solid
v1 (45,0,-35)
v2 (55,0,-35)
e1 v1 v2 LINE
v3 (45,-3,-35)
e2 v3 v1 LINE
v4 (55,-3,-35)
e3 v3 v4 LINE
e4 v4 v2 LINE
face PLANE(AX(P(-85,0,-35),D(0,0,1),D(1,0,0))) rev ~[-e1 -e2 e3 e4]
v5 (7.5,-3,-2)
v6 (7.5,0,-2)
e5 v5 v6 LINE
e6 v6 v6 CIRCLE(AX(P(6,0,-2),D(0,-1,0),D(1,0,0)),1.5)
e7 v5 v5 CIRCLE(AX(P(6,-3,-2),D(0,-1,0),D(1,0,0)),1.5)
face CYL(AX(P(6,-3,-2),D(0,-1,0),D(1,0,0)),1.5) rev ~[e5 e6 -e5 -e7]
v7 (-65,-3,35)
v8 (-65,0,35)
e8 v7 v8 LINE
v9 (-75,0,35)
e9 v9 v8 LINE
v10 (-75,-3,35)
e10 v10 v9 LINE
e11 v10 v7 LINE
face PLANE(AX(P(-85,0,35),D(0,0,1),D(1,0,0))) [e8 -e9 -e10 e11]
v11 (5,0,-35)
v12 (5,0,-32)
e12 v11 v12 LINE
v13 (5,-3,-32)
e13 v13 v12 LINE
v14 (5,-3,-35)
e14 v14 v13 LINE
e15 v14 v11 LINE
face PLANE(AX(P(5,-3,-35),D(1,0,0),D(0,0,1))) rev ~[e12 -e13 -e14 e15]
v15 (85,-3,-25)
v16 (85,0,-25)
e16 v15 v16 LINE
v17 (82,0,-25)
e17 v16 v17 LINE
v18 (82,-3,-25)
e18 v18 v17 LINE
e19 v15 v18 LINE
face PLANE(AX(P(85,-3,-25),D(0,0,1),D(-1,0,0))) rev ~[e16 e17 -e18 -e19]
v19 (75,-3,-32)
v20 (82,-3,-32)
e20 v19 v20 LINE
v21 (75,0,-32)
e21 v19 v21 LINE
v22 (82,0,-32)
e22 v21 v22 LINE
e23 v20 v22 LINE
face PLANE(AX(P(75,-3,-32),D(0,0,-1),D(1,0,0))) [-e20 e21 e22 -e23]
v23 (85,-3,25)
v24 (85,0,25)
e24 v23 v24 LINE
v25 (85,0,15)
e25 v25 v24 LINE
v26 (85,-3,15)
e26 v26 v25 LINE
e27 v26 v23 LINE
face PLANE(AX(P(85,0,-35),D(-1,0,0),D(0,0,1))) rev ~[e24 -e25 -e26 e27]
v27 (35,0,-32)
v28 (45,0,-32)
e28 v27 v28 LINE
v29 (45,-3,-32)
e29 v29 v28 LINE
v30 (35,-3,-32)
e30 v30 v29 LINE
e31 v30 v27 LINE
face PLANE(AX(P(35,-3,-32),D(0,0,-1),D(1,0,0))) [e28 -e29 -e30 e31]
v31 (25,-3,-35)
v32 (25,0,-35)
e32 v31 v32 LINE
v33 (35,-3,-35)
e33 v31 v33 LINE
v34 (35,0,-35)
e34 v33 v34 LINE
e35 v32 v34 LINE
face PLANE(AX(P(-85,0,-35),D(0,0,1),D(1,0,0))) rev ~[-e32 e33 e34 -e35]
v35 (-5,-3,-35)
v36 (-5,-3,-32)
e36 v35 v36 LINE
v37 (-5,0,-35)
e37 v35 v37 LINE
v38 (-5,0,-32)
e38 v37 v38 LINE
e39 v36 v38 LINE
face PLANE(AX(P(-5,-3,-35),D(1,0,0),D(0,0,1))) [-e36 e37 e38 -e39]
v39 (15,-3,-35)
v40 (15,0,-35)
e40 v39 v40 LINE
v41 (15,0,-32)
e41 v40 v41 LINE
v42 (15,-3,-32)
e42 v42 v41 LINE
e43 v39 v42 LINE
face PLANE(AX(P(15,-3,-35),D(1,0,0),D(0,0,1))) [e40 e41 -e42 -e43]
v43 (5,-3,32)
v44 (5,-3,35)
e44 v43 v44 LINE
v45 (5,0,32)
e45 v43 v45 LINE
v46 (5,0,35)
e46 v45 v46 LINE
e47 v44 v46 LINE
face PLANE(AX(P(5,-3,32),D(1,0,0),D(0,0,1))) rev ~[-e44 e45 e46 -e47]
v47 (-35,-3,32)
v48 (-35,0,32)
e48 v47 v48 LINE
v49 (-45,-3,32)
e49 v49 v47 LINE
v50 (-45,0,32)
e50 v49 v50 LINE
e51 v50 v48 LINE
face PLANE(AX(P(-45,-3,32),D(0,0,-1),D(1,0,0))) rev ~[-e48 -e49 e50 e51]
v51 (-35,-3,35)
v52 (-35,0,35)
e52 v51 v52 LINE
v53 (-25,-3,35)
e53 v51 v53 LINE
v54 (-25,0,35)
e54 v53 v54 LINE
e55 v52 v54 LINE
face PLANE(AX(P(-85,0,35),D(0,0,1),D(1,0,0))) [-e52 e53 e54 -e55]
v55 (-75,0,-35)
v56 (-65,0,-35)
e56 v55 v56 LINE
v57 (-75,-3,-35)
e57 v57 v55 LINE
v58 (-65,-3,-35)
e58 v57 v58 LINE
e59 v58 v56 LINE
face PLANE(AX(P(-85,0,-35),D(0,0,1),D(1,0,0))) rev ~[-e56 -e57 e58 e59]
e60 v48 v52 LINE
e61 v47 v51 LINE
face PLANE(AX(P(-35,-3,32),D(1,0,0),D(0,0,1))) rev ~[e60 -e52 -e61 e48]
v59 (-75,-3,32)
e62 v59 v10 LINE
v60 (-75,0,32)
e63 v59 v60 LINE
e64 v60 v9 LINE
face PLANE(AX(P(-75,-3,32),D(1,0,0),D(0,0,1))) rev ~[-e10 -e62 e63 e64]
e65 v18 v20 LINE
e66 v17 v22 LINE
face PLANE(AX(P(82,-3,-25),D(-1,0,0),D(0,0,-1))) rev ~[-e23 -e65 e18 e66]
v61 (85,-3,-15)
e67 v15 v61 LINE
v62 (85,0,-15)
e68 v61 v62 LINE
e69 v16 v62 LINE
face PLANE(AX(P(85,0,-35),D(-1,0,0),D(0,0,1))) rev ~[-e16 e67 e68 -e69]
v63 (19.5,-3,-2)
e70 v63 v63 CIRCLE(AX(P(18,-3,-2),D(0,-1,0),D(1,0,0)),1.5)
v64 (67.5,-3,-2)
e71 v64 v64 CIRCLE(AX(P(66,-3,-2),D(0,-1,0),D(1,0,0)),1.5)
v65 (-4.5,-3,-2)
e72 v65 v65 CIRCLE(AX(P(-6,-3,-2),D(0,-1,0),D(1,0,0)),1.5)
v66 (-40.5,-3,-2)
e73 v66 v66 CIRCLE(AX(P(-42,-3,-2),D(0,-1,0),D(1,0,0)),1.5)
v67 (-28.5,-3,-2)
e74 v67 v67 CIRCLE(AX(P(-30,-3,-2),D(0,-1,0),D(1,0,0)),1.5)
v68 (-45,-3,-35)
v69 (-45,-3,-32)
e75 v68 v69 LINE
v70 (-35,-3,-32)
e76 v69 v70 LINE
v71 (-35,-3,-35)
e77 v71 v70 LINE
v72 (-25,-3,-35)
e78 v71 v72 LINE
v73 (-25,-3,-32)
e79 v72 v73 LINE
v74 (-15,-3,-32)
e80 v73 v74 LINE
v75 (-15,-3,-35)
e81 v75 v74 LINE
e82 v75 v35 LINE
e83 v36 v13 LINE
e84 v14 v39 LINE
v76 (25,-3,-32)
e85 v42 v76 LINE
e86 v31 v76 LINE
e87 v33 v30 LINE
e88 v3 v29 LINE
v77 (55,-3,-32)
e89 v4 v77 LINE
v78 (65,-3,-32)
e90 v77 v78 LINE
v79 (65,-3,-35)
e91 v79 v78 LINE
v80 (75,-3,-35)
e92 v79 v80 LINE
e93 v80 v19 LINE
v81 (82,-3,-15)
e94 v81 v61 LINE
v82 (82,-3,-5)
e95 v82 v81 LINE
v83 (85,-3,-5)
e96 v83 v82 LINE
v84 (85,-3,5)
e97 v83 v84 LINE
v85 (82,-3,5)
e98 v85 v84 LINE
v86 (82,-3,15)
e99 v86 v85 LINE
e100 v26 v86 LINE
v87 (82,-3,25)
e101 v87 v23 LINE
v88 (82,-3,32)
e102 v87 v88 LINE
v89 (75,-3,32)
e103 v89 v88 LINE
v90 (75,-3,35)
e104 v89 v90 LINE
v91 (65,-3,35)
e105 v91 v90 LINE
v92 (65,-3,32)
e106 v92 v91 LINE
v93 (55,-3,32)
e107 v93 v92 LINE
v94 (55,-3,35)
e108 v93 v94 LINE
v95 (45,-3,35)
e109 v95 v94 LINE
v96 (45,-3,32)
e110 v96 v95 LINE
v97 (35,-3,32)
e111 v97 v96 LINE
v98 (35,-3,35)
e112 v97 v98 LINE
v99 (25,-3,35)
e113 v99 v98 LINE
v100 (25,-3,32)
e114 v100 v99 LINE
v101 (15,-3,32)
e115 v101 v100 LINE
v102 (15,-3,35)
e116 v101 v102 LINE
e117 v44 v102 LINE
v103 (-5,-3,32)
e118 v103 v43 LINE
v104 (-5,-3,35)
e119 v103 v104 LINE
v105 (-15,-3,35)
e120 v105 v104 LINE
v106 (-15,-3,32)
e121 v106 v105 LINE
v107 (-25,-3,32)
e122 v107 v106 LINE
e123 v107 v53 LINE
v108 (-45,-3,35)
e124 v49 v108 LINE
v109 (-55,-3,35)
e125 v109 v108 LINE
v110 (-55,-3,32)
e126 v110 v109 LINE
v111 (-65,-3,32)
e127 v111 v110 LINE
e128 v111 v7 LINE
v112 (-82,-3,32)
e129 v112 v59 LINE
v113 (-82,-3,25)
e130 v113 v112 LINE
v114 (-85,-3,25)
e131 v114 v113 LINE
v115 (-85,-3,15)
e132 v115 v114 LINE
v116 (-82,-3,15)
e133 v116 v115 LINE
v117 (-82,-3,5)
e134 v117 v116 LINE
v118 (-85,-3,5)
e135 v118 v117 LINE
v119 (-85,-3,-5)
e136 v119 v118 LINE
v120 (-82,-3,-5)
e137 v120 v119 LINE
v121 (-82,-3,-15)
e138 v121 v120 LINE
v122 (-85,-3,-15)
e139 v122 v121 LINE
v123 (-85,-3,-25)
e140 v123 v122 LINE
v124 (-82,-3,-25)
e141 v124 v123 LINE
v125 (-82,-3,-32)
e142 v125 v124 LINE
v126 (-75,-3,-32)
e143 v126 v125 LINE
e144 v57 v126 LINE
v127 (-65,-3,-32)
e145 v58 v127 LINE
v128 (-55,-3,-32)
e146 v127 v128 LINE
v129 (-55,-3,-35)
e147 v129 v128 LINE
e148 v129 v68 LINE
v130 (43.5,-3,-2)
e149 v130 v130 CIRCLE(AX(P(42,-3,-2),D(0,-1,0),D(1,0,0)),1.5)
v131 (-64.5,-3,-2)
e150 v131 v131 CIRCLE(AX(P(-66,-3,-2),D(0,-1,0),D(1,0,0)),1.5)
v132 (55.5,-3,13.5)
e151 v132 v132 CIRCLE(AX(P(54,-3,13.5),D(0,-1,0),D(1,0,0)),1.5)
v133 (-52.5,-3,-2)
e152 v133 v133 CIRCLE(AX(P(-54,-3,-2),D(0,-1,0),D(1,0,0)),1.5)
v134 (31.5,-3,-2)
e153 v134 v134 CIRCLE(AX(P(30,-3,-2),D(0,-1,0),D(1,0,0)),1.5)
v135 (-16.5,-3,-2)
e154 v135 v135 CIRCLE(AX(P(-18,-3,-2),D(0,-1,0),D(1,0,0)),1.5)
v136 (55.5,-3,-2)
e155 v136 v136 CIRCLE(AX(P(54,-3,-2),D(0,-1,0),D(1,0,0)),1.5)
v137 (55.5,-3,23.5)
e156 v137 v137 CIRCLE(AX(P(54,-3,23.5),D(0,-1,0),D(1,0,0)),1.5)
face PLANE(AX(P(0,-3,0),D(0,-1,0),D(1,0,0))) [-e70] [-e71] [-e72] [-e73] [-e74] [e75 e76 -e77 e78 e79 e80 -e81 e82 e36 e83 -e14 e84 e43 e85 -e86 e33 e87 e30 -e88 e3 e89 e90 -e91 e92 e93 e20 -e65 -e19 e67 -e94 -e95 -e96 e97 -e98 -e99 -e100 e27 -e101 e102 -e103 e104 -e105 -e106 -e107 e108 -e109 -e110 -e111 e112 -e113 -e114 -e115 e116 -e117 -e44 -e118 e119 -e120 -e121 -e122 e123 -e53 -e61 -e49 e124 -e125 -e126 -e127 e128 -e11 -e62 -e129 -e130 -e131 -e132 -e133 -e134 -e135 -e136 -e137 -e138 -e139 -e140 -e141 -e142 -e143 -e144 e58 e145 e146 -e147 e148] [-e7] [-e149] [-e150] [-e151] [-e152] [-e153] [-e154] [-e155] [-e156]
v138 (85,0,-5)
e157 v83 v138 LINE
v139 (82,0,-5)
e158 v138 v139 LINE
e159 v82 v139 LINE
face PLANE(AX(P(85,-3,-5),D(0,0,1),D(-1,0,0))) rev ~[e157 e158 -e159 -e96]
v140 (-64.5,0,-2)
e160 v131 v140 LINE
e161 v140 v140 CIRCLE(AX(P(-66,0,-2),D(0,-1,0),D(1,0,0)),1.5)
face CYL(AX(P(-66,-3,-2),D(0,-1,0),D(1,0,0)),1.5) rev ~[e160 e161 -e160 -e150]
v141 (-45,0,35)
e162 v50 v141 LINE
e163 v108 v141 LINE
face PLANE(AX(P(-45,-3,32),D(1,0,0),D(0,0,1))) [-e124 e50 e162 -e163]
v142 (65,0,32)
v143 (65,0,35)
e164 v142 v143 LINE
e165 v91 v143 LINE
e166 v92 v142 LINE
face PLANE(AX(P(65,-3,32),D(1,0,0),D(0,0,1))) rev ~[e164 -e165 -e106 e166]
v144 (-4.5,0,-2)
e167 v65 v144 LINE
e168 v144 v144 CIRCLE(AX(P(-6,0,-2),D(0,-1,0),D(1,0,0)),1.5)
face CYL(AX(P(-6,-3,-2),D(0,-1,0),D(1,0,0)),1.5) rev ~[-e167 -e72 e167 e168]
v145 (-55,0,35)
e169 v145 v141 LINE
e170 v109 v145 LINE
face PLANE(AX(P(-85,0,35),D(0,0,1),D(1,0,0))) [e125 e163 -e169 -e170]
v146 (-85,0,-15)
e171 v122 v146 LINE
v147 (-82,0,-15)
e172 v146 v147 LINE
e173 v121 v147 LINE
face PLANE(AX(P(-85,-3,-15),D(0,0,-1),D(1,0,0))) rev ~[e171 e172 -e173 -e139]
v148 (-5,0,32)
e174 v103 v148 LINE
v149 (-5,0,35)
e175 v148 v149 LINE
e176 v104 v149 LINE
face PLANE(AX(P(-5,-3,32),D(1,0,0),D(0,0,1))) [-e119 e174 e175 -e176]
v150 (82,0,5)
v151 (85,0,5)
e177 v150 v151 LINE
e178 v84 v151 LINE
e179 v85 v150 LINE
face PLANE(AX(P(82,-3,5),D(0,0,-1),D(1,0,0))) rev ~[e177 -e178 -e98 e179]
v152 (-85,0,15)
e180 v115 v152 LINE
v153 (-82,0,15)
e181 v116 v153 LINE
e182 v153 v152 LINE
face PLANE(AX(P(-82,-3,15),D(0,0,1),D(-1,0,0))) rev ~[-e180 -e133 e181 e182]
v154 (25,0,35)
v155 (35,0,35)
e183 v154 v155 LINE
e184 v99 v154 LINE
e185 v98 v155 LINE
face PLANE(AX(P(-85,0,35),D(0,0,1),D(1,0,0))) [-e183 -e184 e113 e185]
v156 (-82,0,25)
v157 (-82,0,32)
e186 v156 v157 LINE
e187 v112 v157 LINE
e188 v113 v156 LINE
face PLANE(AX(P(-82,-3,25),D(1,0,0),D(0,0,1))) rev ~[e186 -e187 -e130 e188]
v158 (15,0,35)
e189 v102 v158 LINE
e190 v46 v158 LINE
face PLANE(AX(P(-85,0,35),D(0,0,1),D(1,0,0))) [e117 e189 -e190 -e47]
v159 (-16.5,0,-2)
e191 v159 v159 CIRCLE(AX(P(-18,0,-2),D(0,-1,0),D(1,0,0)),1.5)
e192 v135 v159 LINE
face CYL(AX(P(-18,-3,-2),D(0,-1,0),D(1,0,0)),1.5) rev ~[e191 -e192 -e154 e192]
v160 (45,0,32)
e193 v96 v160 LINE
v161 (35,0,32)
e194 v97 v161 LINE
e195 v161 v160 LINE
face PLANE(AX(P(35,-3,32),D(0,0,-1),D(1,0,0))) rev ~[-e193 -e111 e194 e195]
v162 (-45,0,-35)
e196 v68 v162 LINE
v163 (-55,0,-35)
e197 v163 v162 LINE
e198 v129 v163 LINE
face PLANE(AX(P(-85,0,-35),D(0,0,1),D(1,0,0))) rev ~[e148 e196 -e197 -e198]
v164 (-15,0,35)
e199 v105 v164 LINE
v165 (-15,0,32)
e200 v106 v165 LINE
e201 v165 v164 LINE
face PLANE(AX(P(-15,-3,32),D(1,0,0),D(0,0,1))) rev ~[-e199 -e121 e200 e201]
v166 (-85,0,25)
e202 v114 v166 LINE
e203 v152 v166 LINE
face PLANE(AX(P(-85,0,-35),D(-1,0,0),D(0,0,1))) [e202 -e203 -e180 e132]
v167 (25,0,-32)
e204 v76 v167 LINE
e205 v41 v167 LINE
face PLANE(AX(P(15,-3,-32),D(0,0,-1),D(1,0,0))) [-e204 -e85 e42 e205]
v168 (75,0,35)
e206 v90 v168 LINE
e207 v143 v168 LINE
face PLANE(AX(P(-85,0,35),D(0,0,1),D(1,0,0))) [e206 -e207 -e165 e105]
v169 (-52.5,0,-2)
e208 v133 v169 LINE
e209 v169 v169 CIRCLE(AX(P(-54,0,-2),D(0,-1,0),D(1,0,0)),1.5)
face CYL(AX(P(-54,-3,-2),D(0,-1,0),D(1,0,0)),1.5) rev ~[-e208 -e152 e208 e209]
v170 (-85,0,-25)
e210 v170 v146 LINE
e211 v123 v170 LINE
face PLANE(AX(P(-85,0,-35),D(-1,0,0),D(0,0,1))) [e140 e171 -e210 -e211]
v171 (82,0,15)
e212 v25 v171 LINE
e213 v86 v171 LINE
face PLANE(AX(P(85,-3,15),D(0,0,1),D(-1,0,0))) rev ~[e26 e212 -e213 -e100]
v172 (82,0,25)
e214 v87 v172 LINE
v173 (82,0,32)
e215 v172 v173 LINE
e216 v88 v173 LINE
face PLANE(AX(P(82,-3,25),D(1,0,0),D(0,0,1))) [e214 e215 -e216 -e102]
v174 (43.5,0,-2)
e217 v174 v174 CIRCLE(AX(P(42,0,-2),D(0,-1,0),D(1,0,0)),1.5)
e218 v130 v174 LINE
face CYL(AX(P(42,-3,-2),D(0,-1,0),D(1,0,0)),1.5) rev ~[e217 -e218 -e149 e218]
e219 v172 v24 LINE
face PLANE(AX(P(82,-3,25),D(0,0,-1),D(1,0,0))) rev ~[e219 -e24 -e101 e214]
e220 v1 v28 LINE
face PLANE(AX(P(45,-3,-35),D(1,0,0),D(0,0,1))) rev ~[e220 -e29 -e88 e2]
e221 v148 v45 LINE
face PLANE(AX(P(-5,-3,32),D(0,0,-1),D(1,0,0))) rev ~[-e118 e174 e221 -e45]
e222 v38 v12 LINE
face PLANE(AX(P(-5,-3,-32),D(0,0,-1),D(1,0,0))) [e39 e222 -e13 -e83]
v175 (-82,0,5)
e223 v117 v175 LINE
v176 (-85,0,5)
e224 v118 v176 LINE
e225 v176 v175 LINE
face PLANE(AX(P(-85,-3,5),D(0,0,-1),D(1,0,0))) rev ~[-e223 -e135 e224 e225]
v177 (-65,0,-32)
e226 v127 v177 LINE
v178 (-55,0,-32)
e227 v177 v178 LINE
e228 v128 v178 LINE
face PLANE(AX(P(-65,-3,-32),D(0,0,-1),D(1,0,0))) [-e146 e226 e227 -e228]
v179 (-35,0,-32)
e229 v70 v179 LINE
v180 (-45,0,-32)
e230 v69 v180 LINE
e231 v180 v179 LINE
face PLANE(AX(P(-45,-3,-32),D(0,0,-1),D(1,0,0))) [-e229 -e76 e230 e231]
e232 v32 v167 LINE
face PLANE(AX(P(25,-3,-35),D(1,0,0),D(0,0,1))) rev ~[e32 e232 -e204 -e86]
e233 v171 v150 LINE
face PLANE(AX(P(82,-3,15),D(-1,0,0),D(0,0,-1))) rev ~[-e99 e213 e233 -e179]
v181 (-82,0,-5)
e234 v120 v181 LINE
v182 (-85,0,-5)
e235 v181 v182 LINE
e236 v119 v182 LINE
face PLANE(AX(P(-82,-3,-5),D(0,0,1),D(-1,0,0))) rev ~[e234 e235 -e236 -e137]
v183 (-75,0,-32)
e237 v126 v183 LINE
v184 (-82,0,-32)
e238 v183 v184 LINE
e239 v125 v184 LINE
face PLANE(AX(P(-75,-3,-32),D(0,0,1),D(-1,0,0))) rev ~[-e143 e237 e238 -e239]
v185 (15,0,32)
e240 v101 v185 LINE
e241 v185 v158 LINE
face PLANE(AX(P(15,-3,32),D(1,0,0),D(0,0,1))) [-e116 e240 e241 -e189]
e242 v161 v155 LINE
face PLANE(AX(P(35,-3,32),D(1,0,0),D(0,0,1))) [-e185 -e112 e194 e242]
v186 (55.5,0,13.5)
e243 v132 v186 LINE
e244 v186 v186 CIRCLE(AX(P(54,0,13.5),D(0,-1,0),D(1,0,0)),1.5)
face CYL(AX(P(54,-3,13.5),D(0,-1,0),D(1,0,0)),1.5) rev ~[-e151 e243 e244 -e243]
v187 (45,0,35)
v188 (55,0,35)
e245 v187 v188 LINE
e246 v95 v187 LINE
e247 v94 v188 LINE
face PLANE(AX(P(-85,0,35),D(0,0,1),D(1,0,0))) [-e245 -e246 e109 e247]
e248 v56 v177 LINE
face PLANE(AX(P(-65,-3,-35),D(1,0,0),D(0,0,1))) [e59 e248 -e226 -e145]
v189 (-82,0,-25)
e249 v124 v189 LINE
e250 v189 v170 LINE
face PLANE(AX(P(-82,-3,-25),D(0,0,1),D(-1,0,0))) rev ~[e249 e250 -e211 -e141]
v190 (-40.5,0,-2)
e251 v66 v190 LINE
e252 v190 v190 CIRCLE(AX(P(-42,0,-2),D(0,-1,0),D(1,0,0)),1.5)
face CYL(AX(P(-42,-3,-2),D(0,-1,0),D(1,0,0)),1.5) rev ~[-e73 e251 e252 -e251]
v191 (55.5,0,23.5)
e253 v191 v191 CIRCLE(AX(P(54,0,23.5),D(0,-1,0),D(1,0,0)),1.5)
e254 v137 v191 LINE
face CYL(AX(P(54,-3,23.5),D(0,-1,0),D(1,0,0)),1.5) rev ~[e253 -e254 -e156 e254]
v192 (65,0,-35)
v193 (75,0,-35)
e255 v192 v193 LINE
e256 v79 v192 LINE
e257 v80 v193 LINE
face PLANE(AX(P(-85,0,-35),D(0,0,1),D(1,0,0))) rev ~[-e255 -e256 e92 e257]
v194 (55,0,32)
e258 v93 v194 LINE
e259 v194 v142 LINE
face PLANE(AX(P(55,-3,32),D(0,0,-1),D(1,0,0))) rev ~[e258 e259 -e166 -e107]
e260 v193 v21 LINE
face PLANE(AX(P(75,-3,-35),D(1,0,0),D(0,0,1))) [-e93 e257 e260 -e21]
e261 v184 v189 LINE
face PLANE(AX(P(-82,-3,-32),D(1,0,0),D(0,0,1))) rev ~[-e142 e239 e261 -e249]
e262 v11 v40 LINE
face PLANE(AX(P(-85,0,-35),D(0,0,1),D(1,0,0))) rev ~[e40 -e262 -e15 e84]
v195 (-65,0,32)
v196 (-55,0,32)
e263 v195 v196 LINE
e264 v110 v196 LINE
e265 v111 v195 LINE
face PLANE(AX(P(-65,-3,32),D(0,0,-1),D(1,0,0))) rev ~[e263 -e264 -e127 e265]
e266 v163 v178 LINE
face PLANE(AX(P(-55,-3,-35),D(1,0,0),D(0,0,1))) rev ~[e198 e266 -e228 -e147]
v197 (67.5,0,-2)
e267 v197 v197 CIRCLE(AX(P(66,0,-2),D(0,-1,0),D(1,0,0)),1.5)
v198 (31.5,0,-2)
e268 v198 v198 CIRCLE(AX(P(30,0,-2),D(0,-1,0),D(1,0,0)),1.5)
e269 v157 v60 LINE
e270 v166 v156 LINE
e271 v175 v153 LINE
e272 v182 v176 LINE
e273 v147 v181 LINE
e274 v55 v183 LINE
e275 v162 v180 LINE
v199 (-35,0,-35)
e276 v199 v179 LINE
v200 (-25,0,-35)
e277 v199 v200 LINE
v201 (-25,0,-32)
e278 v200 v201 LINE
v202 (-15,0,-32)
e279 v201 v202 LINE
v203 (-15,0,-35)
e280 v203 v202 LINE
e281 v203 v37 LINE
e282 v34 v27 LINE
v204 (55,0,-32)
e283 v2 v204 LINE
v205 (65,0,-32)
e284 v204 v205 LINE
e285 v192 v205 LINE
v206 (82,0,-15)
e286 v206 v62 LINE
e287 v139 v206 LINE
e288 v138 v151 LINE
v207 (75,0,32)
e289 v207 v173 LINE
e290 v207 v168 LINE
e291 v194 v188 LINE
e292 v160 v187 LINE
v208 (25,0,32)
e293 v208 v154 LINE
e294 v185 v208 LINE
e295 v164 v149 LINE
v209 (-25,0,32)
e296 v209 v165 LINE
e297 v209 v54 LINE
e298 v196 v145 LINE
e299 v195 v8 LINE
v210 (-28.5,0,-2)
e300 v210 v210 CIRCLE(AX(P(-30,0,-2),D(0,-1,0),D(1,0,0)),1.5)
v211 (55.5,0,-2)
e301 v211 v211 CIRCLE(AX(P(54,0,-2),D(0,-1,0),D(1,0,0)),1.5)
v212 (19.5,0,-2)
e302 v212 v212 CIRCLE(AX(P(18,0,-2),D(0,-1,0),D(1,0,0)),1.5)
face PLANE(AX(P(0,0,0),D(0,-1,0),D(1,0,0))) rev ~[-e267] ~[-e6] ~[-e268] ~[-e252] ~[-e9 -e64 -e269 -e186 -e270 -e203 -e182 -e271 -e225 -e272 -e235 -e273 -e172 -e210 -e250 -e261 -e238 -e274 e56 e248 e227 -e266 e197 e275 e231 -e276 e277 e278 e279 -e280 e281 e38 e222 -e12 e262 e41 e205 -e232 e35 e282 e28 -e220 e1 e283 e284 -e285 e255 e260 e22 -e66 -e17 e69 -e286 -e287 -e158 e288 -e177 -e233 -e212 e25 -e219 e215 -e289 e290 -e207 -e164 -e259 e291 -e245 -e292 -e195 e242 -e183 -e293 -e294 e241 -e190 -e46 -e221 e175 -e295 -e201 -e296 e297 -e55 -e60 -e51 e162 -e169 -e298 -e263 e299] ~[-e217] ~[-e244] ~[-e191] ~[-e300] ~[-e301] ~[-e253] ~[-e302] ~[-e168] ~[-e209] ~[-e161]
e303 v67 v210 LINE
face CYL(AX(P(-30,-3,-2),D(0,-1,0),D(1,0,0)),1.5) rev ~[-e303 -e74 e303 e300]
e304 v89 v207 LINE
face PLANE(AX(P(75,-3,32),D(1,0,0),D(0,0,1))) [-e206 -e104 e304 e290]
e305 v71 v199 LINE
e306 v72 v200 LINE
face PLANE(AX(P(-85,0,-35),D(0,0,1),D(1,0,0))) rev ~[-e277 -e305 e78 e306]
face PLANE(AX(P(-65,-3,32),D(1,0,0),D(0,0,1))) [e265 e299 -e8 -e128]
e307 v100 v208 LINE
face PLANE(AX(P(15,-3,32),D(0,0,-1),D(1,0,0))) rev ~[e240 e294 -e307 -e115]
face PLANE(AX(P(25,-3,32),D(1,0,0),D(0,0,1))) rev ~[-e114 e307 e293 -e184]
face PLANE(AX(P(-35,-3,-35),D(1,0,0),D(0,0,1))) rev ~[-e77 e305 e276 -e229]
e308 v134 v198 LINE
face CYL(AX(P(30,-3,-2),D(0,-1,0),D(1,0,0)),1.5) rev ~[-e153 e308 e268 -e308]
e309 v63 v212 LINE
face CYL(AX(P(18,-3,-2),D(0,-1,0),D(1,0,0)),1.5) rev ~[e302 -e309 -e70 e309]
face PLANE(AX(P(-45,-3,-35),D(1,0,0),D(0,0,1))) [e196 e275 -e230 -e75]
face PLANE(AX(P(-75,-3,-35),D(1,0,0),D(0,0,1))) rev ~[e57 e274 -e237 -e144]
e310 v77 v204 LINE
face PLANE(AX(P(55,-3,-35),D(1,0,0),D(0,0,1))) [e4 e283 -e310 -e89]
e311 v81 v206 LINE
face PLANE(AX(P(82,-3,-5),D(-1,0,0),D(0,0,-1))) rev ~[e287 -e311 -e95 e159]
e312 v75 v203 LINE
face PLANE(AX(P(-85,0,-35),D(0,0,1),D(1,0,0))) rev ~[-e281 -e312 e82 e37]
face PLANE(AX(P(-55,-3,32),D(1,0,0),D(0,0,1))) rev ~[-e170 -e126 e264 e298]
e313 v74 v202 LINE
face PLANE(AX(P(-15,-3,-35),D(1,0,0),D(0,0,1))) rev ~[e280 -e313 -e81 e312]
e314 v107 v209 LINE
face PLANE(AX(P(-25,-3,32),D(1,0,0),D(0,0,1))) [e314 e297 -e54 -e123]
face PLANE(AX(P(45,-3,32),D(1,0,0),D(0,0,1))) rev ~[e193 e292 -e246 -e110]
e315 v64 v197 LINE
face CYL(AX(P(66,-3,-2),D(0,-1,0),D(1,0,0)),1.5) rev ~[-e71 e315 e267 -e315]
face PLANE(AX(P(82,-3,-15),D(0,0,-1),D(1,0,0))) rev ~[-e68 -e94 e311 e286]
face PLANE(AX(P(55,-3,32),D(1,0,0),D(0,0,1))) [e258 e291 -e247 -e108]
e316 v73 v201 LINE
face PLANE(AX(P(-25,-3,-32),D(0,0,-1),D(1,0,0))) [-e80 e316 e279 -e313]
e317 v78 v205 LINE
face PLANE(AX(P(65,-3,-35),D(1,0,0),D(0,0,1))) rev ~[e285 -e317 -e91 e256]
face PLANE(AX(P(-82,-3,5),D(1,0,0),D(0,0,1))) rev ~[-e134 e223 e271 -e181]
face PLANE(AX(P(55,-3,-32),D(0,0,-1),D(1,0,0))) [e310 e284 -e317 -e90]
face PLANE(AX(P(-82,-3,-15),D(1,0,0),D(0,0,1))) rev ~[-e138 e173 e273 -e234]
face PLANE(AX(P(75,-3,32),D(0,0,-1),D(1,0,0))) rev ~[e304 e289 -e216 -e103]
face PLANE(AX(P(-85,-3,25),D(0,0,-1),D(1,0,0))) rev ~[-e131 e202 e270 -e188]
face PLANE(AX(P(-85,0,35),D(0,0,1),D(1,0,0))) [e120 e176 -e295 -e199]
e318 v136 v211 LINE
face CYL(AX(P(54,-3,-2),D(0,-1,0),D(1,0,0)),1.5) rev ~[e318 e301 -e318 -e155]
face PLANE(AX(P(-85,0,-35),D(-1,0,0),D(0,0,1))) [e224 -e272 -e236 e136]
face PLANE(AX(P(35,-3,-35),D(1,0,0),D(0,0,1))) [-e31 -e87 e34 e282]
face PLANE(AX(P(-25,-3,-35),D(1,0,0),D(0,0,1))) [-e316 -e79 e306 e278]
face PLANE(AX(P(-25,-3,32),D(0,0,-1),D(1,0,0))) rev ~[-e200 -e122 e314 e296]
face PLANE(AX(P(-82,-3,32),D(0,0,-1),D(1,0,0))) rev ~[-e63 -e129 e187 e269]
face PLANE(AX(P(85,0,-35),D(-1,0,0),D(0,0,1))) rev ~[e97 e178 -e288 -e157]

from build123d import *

# Parameters (mm, degrees)
F0_W     = 170
F0_H     = 70
F1_DEPTH = 3
F2_R     = 1.5
F3_DEPTH = 3.001
F4_R     = 1.5
F5_DEPTH = 3.001
F6_W     = 3
F6_H     = 3
F6_W_2   = 7
F6_W_3   = 10
F6_H_2   = 7
F7_DEPTH = 3.001


with BuildPart() as f1:
    # F0 (on Front) → F1 (new body)
    with BuildSketch(Plane.XZ):
        Rectangle(F0_W, F0_H)
    extrude(amount=F1_DEPTH)

    # F2 (on face) → F3 (cut, through all)
    with BuildSketch(Plane.XZ.offset(3)):
        with Locations((-66, -2)):
            Circle(F2_R)
        with Locations((-54, -2)):
            Circle(F2_R)
        with Locations((-42, -2)):
            Circle(F2_R)
        with Locations((-30, -2)):
            Circle(F2_R)
        with Locations((-18, -2)):
            Circle(F2_R)
        with Locations((-6, -2)):
            Circle(F2_R)
        with Locations((6, -2)):
            Circle(F2_R)
        with Locations((18, -2)):
            Circle(F2_R)
        with Locations((30, -2)):
            Circle(F2_R)
        with Locations((42, -2)):
            Circle(F2_R)
        with Locations((54, -2)):
            Circle(F2_R)
        with Locations((66, -2)):
            Circle(F2_R)
    extrude(amount=-F3_DEPTH, mode=Mode.SUBTRACT)

    # F4 (on face) → F5 (cut, through all)
    with BuildSketch(Plane.XZ.offset(3)):
        with Locations((54, 13.5)):
            Circle(F4_R)
        with Locations((54, 23.5)):
            Circle(F4_R)
    extrude(amount=-F5_DEPTH, mode=Mode.SUBTRACT)

    # F6 (on face) → F7 (cut, through all)
    with BuildSketch(Plane.XZ.offset(3)):
        with Locations((-83.5, -33.5)):
            Rectangle(F6_W, F6_H)
        with Locations((-78.5, -33.5)):
            Rectangle(F6_W_2, F6_H)
        Polygon((-85, -28), (-85, -32), (-82, -32), (-82, -25), (-85, -25), align=None)
        with Locations((-60, -33.5)):
            Rectangle(F6_W_3, F6_H)
        with Locations((-40, -33.5)):
            Rectangle(F6_W_3, F6_H)
        with Locations((-20, -33.5)):
            Rectangle(F6_W_3, F6_H)
        with Locations((0, -33.5)):
            Rectangle(F6_W_3, F6_H)
        with Locations((20, -33.5)):
            Rectangle(F6_W_3, F6_H)
        with Locations((40, -33.5)):
            Rectangle(F6_W_3, F6_H)
        with Locations((60, -33.5)):
            Rectangle(F6_W_3, F6_H)
        with Locations((83.5, -33.5)):
            Rectangle(F6_W, F6_H)
        Polygon((82, -32), (85, -32), (85, -28), (85, -25), (82, -25), align=None)
        with Locations((78.5, -33.5)):
            Rectangle(F6_W_2, F6_H)
        with Locations((-60, 33.5)):
            Rectangle(F6_W_3, F6_H)
        with Locations((-20, 33.5)):
            Rectangle(F6_W_3, F6_H)
        with Locations((-40, 33.5)):
            Rectangle(F6_W_3, F6_H)
        with Locations((0, 33.5)):
            Rectangle(F6_W_3, F6_H)
        with Locations((-83.5, 33.5)):
            Rectangle(F6_W, F6_H)
        with Locations((-83.5, 28.5)):
            Rectangle(F6_W, F6_H_2)
        with Locations((-78.5, 33.5)):
            Rectangle(F6_W_2, F6_H)
        with Locations((78.5, 33.5)):
            Rectangle(F6_W_2, F6_H)
        with Locations((83.5, 33.5)):
            Rectangle(F6_W, F6_H)
        with Locations((83.5, 28.5)):
            Rectangle(F6_W, F6_H_2)
        with Locations((20, 33.5)):
            Rectangle(F6_W_3, F6_H)
        with Locations((40, 33.5)):
            Rectangle(F6_W_3, F6_H)
        with Locations((60, 33.5)):
            Rectangle(F6_W_3, F6_H)
        Polygon((-82, 5), (-82, 15), (-85, 15), (-85, 12), (-85, 5), align=None)
        Polygon((-82, -15), (-82, -5), (-85, -5), (-85, -8), (-85, -15), align=None)
        Polygon((85, 12), (85, 15), (82, 15), (82, 5), (85, 5), align=None)
        Polygon((85, -8), (85, -5), (82, -5), (82, -15), (85, -15), align=None)
    extrude(amount=-F7_DEPTH, mode=Mode.SUBTRACT)


solid = f1.part
